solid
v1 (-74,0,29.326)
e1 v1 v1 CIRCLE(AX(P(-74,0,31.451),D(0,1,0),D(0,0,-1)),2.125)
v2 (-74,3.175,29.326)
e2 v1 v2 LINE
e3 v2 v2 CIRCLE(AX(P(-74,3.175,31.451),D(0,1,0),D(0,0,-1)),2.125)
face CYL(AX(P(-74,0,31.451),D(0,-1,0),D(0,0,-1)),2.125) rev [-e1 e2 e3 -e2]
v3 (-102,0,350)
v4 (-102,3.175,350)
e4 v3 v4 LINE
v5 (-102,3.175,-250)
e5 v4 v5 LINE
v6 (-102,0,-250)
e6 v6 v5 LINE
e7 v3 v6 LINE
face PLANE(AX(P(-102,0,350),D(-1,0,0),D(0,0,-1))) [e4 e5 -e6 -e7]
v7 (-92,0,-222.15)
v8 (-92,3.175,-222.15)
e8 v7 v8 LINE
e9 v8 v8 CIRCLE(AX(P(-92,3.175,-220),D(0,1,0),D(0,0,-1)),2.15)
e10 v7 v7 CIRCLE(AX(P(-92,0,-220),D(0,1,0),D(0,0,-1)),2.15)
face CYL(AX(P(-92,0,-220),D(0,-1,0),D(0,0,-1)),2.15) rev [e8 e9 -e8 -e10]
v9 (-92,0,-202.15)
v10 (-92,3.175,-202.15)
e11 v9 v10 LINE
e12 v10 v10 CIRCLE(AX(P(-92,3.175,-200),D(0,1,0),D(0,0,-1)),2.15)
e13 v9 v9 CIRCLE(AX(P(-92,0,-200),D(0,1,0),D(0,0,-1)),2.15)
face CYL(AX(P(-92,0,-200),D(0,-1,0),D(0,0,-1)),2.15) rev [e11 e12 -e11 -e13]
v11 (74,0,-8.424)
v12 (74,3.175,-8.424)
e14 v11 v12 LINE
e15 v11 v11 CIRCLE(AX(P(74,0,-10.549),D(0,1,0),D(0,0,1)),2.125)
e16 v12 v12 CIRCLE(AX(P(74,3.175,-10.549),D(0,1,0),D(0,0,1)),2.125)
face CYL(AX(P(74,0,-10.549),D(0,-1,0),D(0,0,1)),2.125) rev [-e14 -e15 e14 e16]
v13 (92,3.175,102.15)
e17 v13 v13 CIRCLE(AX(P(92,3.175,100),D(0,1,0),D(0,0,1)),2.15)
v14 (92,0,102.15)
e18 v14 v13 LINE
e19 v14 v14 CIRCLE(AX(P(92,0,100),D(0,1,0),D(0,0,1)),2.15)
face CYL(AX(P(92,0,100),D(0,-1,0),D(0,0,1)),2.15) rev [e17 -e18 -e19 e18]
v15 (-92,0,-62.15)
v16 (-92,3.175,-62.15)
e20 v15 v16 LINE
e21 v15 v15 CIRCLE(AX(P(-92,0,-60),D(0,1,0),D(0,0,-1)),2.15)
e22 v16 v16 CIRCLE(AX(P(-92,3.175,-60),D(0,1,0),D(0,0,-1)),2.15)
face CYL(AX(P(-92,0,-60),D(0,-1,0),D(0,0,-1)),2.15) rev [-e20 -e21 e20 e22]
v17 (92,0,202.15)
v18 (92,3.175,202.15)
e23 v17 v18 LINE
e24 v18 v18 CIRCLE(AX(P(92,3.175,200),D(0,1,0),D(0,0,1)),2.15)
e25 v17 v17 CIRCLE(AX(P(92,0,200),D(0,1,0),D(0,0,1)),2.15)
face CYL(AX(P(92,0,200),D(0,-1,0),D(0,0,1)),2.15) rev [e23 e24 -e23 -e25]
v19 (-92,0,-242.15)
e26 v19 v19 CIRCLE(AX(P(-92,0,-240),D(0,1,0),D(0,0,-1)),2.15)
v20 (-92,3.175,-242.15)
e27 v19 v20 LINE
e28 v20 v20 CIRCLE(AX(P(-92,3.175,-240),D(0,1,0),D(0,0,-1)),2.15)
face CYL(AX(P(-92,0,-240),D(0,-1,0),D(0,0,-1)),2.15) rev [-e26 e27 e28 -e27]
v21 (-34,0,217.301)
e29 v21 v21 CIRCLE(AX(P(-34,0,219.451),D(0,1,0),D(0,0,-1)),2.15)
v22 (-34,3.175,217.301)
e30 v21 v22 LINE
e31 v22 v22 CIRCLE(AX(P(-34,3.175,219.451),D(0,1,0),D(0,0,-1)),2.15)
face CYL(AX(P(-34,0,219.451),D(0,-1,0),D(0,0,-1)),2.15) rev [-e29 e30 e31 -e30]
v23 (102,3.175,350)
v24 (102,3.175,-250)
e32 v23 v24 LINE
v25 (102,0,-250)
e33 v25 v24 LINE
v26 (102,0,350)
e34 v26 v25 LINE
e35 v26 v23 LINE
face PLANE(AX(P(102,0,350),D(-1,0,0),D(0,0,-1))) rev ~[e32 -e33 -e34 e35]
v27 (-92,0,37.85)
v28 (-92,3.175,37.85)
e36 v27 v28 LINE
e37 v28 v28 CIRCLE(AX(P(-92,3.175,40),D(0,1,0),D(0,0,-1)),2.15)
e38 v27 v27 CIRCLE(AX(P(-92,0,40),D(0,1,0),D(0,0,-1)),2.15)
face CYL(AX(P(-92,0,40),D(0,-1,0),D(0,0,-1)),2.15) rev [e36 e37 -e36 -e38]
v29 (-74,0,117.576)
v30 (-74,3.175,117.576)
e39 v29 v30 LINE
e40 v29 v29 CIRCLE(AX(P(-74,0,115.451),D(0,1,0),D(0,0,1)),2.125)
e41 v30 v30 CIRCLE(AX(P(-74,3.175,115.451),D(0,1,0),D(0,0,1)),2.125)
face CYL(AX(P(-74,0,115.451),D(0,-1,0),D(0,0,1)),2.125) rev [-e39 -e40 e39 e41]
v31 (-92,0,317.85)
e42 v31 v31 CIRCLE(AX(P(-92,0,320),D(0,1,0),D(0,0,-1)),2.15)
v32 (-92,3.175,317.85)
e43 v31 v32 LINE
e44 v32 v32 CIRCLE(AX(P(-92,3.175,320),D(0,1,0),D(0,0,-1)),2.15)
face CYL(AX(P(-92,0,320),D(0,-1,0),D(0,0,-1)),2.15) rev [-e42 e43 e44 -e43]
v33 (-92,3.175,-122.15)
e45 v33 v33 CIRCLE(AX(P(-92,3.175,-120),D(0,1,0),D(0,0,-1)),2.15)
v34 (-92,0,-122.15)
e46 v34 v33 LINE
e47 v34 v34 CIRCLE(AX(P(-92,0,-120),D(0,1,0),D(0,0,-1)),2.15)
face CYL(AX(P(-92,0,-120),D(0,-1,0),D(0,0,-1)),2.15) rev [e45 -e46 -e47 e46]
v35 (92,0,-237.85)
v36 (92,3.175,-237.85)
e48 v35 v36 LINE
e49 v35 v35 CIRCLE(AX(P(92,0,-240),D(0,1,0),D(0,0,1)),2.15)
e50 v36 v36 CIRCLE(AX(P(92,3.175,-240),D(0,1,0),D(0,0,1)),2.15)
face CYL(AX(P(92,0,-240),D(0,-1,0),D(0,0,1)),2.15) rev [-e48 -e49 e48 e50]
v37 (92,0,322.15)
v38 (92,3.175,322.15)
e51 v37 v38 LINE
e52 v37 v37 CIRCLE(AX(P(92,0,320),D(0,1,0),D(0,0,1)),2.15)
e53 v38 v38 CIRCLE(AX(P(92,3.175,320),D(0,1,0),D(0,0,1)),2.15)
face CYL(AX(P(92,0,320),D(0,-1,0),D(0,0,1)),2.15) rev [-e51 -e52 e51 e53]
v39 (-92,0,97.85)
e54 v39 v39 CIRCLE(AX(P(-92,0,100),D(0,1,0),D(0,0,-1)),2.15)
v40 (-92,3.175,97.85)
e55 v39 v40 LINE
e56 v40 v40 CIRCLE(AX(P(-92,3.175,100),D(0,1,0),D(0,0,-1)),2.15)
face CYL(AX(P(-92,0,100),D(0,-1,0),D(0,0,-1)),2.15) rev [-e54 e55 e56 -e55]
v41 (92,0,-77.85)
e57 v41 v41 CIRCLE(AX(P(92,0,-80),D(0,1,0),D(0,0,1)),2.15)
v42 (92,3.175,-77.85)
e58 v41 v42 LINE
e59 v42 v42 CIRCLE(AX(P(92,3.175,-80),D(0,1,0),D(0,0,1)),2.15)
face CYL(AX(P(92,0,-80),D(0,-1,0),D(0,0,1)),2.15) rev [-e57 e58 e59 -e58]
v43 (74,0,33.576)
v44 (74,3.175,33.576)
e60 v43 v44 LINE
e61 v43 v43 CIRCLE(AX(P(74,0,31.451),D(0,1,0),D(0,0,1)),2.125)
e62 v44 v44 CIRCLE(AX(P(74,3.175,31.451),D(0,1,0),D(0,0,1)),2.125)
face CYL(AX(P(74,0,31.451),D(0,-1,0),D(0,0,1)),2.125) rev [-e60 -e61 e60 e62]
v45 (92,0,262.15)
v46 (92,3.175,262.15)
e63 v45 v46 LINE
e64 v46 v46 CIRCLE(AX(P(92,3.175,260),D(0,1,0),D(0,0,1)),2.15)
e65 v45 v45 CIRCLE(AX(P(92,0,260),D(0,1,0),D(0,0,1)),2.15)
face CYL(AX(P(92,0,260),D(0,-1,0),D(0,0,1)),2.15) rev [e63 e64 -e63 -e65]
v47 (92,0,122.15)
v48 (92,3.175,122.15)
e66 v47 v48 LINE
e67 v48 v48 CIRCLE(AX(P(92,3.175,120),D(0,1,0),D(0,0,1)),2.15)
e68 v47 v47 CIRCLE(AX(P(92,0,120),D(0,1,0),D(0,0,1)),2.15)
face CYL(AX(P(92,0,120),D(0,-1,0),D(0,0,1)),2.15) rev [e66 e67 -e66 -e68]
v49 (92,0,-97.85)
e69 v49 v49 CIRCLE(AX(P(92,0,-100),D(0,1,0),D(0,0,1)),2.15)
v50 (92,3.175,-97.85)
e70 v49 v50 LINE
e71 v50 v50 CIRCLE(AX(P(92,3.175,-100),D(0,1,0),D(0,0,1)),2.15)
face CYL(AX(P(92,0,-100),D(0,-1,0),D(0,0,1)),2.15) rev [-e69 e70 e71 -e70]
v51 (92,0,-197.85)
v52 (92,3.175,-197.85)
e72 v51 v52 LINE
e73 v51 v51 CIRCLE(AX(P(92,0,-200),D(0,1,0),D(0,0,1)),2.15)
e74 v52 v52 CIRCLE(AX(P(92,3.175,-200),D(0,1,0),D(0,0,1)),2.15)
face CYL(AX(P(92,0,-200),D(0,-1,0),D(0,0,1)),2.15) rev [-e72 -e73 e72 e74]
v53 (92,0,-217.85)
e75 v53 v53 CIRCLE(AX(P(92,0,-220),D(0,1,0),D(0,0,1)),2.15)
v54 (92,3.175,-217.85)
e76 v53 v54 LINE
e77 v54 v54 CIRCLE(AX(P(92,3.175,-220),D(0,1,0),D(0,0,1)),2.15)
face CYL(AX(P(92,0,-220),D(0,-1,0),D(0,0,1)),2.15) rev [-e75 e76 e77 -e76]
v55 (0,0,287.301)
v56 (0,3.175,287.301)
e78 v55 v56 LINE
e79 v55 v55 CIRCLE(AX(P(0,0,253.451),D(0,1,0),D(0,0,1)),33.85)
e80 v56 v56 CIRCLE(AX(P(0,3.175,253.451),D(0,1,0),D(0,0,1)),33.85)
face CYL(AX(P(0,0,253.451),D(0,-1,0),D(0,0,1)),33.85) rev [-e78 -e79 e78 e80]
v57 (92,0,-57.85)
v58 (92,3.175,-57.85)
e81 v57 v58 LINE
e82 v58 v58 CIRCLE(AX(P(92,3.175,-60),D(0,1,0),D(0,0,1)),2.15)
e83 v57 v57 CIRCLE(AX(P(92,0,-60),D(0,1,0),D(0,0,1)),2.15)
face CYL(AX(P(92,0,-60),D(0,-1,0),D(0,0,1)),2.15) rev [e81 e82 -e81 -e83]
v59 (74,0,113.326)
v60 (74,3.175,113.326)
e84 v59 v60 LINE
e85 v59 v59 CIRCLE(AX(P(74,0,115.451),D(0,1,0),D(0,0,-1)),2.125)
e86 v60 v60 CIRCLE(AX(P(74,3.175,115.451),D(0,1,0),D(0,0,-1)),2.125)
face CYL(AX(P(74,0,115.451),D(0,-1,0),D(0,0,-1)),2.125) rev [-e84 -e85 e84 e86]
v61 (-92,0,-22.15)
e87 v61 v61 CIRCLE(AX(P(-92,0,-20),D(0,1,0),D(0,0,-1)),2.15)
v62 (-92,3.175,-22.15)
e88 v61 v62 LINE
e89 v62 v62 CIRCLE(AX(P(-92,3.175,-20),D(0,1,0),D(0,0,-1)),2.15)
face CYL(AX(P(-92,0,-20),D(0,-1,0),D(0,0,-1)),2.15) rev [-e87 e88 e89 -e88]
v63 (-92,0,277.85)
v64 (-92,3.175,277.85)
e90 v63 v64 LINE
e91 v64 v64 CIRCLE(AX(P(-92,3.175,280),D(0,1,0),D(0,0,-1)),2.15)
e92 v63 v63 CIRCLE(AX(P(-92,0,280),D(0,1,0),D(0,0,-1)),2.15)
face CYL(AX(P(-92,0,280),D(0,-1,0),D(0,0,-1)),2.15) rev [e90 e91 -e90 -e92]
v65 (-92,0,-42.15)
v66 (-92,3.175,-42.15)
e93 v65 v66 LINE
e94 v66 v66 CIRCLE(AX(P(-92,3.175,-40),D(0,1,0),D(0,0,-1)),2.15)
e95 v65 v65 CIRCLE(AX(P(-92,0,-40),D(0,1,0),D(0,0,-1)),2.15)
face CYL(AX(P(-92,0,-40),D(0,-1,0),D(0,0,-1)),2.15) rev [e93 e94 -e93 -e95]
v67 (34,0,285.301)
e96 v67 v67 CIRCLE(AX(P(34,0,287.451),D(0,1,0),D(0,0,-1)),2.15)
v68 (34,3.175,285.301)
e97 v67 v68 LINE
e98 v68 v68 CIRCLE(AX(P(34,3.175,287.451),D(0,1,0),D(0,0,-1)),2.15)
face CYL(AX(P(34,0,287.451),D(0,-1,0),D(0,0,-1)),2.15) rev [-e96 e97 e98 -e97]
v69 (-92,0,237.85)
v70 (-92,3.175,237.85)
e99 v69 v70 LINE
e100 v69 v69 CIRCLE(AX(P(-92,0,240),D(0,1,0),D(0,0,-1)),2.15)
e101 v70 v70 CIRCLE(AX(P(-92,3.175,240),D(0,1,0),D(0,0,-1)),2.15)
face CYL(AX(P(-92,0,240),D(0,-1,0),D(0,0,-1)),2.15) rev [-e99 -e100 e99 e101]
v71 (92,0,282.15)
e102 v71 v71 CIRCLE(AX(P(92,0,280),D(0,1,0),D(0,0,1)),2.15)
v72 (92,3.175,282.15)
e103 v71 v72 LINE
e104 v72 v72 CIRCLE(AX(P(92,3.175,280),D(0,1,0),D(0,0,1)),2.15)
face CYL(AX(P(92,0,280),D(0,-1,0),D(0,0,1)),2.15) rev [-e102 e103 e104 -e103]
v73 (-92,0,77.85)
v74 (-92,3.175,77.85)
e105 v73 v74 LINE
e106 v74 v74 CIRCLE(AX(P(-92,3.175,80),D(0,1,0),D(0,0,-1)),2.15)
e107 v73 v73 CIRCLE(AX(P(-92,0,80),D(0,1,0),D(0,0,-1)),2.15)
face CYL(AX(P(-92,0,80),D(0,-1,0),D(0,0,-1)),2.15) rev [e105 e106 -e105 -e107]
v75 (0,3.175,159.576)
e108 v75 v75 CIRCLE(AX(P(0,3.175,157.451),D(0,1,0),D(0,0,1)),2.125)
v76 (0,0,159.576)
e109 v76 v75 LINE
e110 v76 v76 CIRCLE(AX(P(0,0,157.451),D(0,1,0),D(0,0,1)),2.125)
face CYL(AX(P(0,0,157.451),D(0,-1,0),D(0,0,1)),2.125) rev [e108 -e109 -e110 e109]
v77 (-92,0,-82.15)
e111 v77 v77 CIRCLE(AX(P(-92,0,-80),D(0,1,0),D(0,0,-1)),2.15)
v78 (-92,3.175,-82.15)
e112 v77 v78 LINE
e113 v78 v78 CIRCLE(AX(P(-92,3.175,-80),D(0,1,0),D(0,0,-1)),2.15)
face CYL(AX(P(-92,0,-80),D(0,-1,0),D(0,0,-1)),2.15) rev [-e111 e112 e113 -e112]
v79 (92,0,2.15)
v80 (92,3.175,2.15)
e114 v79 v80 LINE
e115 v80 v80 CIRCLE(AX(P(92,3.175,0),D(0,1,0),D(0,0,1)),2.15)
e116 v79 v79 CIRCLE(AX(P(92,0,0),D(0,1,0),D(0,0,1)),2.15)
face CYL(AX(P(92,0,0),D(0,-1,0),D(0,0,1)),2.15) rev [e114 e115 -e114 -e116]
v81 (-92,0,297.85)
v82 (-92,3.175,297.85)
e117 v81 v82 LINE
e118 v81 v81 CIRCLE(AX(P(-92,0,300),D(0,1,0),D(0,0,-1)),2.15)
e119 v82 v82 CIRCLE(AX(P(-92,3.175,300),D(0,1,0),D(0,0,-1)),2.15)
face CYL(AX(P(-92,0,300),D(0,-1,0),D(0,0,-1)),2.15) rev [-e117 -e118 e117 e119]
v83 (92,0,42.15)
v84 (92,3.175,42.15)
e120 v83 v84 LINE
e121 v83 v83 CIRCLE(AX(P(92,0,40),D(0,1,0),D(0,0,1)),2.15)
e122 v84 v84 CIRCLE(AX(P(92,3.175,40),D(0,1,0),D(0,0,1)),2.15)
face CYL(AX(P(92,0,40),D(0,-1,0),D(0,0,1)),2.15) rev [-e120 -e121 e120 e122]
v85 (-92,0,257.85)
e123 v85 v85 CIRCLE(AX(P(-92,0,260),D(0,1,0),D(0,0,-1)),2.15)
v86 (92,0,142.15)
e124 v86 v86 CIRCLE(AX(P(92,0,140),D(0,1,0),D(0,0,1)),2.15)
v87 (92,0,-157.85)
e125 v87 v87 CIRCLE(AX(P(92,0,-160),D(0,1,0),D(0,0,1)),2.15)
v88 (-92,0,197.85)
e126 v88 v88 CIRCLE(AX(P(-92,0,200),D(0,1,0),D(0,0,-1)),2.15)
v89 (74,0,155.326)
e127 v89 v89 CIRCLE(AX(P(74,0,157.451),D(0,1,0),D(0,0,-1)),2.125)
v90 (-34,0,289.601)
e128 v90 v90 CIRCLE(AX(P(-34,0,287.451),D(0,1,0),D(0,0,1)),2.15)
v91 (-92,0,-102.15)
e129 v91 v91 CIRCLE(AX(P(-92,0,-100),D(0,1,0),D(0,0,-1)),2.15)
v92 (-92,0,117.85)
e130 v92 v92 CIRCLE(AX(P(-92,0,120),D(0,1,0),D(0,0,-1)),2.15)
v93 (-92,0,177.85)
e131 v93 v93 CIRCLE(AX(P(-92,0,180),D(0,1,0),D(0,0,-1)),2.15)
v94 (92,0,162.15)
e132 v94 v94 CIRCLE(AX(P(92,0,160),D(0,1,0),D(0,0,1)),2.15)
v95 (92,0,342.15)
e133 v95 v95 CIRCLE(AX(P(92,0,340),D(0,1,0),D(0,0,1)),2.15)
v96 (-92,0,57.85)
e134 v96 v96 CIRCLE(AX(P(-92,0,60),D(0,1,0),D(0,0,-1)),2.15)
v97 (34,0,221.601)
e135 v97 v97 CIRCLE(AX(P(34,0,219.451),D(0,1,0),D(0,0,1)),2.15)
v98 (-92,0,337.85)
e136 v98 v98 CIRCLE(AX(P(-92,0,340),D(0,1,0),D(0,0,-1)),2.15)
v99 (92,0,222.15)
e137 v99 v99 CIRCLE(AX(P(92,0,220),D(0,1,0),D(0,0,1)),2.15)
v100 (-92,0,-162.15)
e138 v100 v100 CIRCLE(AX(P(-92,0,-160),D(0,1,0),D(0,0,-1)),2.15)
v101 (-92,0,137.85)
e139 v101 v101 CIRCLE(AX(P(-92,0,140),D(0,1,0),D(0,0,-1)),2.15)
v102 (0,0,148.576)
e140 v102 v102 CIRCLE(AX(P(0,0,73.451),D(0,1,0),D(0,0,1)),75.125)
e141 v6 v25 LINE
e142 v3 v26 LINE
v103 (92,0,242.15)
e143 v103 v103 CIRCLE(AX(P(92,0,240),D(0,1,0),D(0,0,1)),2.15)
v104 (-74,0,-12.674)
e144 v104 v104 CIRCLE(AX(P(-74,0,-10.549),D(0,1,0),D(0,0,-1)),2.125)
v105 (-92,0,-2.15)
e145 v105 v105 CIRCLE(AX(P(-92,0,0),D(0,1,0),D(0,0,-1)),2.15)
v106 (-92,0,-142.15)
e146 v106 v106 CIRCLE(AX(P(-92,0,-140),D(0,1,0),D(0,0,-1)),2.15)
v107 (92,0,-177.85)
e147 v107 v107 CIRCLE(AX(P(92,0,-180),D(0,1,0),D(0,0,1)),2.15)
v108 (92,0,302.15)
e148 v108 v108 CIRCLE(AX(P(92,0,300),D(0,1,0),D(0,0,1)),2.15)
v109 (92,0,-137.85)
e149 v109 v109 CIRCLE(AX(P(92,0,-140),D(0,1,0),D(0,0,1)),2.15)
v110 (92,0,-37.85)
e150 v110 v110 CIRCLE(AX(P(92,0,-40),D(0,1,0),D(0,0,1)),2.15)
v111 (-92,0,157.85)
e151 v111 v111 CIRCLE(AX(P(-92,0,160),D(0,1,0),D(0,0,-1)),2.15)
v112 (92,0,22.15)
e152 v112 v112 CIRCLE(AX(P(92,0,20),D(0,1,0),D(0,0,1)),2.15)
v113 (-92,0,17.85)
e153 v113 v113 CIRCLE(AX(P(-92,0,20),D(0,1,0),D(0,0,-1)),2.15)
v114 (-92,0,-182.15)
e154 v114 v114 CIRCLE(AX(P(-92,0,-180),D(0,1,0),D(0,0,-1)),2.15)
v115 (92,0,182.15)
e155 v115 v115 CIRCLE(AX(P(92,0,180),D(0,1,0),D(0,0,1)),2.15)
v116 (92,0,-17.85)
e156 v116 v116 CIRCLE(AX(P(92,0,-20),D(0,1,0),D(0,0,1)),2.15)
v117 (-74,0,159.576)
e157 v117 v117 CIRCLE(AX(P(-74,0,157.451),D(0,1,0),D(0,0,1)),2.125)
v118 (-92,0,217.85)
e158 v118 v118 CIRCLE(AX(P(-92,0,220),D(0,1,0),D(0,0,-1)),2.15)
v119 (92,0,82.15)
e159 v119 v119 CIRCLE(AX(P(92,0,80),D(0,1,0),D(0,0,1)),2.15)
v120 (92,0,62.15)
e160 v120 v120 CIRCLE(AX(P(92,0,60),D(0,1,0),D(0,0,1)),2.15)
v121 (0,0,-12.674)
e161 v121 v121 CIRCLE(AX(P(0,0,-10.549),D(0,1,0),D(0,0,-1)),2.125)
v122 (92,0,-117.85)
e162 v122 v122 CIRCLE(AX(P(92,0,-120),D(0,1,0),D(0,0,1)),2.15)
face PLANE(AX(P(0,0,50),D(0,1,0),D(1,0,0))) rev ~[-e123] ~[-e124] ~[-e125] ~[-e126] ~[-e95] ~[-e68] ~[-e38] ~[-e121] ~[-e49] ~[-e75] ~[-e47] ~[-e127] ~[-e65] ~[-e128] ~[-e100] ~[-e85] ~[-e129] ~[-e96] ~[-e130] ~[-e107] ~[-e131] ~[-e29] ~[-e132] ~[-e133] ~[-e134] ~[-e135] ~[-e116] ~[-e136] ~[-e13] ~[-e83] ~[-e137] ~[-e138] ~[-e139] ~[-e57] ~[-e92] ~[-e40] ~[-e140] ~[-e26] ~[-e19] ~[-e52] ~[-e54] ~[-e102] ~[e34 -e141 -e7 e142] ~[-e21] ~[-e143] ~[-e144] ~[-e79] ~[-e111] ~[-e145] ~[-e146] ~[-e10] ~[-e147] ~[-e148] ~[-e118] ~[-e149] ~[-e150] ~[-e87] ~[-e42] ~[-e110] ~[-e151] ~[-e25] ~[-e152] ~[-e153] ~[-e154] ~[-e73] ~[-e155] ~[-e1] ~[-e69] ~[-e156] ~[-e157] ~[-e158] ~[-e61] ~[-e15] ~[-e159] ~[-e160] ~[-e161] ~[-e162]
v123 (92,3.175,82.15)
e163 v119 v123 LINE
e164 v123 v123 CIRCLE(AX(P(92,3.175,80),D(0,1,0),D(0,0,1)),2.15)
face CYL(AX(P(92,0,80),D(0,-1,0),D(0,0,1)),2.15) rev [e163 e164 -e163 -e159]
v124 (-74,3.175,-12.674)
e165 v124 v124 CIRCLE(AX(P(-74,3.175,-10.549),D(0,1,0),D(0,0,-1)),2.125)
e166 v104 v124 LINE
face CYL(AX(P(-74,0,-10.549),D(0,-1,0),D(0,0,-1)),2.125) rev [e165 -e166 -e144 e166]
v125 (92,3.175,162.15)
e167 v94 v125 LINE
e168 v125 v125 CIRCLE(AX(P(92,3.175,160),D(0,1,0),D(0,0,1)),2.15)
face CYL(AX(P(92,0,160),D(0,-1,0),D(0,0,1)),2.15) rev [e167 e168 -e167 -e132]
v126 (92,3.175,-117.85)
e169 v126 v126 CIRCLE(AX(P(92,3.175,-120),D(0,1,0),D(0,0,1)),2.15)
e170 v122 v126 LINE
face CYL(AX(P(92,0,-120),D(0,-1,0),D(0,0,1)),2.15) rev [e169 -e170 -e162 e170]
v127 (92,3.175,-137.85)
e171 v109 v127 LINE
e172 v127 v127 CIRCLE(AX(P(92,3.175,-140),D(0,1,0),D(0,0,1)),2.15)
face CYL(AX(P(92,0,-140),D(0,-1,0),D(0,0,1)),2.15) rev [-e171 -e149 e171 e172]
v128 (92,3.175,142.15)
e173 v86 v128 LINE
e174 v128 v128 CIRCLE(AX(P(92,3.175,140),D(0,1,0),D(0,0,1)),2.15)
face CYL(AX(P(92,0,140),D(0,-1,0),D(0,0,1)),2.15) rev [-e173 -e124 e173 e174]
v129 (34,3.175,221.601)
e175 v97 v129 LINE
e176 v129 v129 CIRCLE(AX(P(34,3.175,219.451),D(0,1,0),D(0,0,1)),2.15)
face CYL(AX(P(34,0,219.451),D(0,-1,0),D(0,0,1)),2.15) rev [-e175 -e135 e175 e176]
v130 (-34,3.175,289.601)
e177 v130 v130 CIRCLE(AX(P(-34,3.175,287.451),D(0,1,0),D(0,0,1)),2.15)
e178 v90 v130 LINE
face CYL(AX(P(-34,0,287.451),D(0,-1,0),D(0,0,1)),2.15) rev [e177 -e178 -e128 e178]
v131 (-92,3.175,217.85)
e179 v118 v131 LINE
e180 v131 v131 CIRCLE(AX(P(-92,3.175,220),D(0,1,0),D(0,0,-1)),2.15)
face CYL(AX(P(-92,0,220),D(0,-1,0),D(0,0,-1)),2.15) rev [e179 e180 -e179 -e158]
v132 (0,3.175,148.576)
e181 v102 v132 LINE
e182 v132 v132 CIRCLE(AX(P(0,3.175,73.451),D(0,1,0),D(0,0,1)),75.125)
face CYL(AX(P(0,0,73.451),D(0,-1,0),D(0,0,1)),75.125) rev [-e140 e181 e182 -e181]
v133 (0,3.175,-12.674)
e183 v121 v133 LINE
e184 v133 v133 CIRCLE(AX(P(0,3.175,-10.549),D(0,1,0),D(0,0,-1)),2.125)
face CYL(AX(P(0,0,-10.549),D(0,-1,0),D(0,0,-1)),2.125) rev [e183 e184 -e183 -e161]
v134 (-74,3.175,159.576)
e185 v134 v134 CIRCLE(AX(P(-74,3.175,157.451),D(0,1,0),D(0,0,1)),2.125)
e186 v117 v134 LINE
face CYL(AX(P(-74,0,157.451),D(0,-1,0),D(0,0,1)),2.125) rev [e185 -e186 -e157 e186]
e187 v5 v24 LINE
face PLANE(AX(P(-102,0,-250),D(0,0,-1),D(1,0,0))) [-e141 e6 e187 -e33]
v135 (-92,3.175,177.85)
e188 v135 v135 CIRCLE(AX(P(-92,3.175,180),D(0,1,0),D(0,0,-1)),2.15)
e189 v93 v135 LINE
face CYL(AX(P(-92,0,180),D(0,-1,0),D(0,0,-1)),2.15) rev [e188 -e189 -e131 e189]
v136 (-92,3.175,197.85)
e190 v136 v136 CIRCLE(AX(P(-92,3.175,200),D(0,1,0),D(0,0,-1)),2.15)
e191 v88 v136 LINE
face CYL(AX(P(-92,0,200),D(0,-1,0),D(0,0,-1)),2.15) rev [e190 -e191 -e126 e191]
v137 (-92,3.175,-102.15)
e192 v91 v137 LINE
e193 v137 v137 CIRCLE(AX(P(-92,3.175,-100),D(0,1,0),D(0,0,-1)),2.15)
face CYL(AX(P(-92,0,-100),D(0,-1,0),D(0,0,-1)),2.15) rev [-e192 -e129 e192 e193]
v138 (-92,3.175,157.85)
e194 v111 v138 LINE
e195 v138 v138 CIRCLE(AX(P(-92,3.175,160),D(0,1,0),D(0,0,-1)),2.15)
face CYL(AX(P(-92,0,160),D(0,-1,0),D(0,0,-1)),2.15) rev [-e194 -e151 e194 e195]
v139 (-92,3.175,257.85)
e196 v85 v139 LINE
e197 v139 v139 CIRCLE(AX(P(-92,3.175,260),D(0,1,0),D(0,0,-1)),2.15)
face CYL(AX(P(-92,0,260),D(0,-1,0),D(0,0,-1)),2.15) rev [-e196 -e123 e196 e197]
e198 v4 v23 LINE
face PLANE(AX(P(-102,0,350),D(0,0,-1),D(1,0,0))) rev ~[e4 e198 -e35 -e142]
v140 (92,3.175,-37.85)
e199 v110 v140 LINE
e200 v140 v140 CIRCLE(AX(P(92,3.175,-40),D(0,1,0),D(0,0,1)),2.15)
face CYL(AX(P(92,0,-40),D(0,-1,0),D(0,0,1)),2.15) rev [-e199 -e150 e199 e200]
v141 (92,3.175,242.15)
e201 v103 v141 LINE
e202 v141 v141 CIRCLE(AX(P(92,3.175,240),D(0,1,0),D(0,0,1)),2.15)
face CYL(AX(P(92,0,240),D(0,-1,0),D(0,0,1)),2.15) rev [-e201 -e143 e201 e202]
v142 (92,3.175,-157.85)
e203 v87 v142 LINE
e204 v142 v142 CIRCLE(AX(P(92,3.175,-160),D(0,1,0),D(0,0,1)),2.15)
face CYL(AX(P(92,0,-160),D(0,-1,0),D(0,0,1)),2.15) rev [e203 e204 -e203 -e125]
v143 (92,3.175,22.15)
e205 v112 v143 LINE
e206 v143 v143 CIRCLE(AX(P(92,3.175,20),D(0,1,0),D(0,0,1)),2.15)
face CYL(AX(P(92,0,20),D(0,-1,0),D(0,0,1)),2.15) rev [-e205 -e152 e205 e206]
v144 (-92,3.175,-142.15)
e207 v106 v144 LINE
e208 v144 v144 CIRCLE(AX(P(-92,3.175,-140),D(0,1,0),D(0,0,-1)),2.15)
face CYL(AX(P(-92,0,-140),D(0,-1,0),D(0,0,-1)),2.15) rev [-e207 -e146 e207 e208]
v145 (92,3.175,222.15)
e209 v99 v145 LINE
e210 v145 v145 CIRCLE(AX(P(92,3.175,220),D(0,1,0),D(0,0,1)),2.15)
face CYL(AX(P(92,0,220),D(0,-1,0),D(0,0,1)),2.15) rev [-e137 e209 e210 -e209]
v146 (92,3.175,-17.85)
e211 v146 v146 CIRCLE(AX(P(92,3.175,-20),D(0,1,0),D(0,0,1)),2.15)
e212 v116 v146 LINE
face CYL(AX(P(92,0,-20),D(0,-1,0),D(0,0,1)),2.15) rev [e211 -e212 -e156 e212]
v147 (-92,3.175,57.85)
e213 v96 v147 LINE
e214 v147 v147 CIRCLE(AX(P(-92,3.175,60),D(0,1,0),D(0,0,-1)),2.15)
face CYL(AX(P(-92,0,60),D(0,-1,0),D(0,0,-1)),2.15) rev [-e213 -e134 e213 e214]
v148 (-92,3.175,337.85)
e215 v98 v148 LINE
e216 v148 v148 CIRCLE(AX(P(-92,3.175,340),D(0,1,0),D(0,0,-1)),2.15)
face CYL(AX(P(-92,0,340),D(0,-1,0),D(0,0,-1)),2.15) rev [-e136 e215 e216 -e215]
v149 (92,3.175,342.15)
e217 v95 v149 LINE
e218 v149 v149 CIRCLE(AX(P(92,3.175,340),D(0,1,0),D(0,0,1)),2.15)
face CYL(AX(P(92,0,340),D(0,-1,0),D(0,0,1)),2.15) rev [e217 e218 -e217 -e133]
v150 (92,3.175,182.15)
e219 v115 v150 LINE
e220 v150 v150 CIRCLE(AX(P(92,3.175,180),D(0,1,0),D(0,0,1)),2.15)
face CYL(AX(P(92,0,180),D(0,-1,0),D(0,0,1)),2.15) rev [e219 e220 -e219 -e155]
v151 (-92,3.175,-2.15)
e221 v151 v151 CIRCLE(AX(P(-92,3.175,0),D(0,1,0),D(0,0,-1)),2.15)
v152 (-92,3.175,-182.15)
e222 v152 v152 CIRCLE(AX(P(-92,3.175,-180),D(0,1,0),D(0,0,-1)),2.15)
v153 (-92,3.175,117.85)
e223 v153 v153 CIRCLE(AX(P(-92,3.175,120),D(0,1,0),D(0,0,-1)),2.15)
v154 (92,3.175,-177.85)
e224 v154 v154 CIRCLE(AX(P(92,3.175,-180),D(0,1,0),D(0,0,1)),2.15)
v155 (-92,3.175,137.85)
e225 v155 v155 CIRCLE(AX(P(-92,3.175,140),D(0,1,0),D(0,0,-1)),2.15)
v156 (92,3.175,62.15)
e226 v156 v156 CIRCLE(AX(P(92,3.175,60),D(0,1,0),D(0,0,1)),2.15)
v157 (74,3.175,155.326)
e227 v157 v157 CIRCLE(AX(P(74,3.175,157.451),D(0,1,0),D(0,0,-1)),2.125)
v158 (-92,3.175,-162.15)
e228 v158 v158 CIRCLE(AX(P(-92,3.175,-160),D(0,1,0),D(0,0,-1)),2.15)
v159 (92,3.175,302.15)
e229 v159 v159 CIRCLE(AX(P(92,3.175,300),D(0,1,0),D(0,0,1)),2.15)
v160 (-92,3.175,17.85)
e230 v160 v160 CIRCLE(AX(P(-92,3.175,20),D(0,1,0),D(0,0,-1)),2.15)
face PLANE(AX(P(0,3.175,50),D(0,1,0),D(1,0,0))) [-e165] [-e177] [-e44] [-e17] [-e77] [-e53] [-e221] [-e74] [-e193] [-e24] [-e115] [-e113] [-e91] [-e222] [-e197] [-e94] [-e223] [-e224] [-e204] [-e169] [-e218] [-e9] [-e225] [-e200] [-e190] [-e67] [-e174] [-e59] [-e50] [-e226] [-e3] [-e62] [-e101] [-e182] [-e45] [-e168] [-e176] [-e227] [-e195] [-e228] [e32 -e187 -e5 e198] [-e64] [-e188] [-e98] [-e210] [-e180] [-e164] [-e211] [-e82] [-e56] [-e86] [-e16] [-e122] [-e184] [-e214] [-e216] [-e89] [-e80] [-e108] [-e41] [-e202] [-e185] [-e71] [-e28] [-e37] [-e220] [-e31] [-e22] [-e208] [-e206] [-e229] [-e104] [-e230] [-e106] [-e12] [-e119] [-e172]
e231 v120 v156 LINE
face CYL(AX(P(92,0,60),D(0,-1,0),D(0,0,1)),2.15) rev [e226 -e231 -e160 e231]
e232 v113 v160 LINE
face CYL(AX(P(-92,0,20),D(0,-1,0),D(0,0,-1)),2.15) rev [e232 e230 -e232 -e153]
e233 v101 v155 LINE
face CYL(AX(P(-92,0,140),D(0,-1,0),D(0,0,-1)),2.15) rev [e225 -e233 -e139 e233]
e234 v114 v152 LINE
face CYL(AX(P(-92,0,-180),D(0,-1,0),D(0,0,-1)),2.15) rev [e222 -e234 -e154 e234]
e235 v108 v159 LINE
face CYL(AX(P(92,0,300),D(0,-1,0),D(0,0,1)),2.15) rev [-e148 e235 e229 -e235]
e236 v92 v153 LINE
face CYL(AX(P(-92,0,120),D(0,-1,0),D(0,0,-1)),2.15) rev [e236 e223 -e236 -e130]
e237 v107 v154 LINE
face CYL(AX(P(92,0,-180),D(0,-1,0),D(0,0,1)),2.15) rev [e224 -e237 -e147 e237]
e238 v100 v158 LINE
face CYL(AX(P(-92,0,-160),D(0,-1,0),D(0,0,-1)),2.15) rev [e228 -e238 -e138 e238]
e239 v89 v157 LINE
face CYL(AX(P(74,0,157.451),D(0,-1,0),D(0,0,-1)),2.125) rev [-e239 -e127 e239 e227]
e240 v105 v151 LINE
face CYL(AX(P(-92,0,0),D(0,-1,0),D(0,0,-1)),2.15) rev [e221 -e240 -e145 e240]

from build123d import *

# Parameters (mm, degrees)
SKETCH1_W           = 204
SKETCH1_H           = 600
SKETCH1_R           = 2.15
SKETCH1_R_2         = 2.125
SKETCH1_R_3         = 33.85
SKETCH1_R_4         = 75.125
BOSS_EXTRUDE1_DEPTH = 3.175


with BuildPart() as part:
    # Sketch1 → Boss-Extrude1 (new body)
    with BuildSketch(Plane(origin=(0, 0, 0), x_dir=(1, 0, 0), z_dir=(0, 1, 0))):
        with Locations((0, -50)):
            Rectangle(SKETCH1_W, SKETCH1_H)
        with Locations(Location((92, 240, 0), (0, 0, 270))):
            Circle(SKETCH1_R, mode=Mode.SUBTRACT)
        with Locations(Location((92, 220, 0), (0, 0, 270))):
            Circle(SKETCH1_R, mode=Mode.SUBTRACT)
        with Locations(Location((92, 200, 0), (0, 0, 270))):
            Circle(SKETCH1_R, mode=Mode.SUBTRACT)
        with Locations(Location((92, 180, 0), (0, 0, 270))):
            Circle(SKETCH1_R, mode=Mode.SUBTRACT)
        with Locations(Location((92, 160, 0), (0, 0, 270))):
            Circle(SKETCH1_R, mode=Mode.SUBTRACT)
        with Locations(Location((92, 140, 0), (0, 0, 270))):
            Circle(SKETCH1_R, mode=Mode.SUBTRACT)
        with Locations(Location((92, 120, 0), (0, 0, 270))):
            Circle(SKETCH1_R, mode=Mode.SUBTRACT)
        with Locations(Location((92, 100, 0), (0, 0, 270))):
            Circle(SKETCH1_R, mode=Mode.SUBTRACT)
        with Locations(Location((92, 80, 0), (0, 0, 270))):
            Circle(SKETCH1_R, mode=Mode.SUBTRACT)
        with Locations(Location((92, 60, 0), (0, 0, 270))):
            Circle(SKETCH1_R, mode=Mode.SUBTRACT)
        with Locations(Location((92, 40, 0), (0, 0, 270))):
            Circle(SKETCH1_R, mode=Mode.SUBTRACT)
        with Locations(Location((92, 20, 0), (0, 0, 270))):
            Circle(SKETCH1_R, mode=Mode.SUBTRACT)
        with Locations(Location((92, 0, 0), (0, 0, 270))):
            Circle(SKETCH1_R, mode=Mode.SUBTRACT)
        with Locations(Location((92, -20, 0), (0, 0, 270))):
            Circle(SKETCH1_R, mode=Mode.SUBTRACT)
        with Locations(Location((92, -40, 0), (0, 0, 270))):
            Circle(SKETCH1_R, mode=Mode.SUBTRACT)
        with Locations(Location((92, -60, 0), (0, 0, 270))):
            Circle(SKETCH1_R, mode=Mode.SUBTRACT)
        with Locations(Location((92, -80, 0), (0, 0, 270))):
            Circle(SKETCH1_R, mode=Mode.SUBTRACT)
        with Locations(Location((92, -100, 0), (0, 0, 270))):
            Circle(SKETCH1_R, mode=Mode.SUBTRACT)
        with Locations(Location((92, -120, 0), (0, 0, 270))):
            Circle(SKETCH1_R, mode=Mode.SUBTRACT)
        with Locations(Location((92, -140, 0), (0, 0, 270))):
            Circle(SKETCH1_R, mode=Mode.SUBTRACT)
        with Locations(Location((92, -160, 0), (0, 0, 270))):
            Circle(SKETCH1_R, mode=Mode.SUBTRACT)
        with Locations(Location((92, -180, 0), (0, 0, 270))):
            Circle(SKETCH1_R, mode=Mode.SUBTRACT)
        with Locations(Location((92, -200, 0), (0, 0, 270))):
            Circle(SKETCH1_R, mode=Mode.SUBTRACT)
        with Locations(Location((92, -220, 0), (0, 0, 270))):
            Circle(SKETCH1_R, mode=Mode.SUBTRACT)
        with Locations(Location((92, -240, 0), (0, 0, 270))):
            Circle(SKETCH1_R, mode=Mode.SUBTRACT)
        with Locations(Location((92, -260, 0), (0, 0, 270))):
            Circle(SKETCH1_R, mode=Mode.SUBTRACT)
        with Locations(Location((92, -280, 0), (0, 0, 270))):
            Circle(SKETCH1_R, mode=Mode.SUBTRACT)
        with Locations(Location((92, -300, 0), (0, 0, 270))):
            Circle(SKETCH1_R, mode=Mode.SUBTRACT)
        with Locations(Location((92, -320, 0), (0, 0, 270))):
            Circle(SKETCH1_R, mode=Mode.SUBTRACT)
        with Locations(Location((92, -340, 0), (0, 0, 270))):
            Circle(SKETCH1_R, mode=Mode.SUBTRACT)
        with Locations(Location((-92, -340, 0), (0, 0, 90))):
            Circle(SKETCH1_R, mode=Mode.SUBTRACT)
        with Locations(Location((-92, -320, 0), (0, 0, 90))):
            Circle(SKETCH1_R, mode=Mode.SUBTRACT)
        with Locations(Location((-92, -300, 0), (0, 0, 90))):
            Circle(SKETCH1_R, mode=Mode.SUBTRACT)
        with Locations(Location((-92, -280, 0), (0, 0, 90))):
            Circle(SKETCH1_R, mode=Mode.SUBTRACT)
        with Locations(Location((-92, -260, 0), (0, 0, 90))):
            Circle(SKETCH1_R, mode=Mode.SUBTRACT)
        with Locations(Location((-92, -240, 0), (0, 0, 90))):
            Circle(SKETCH1_R, mode=Mode.SUBTRACT)
        with Locations(Location((-92, -220, 0), (0, 0, 90))):
            Circle(SKETCH1_R, mode=Mode.SUBTRACT)
        with Locations(Location((-92, -200, 0), (0, 0, 90))):
            Circle(SKETCH1_R, mode=Mode.SUBTRACT)
        with Locations(Location((-92, -180, 0), (0, 0, 90))):
            Circle(SKETCH1_R, mode=Mode.SUBTRACT)
        with Locations(Location((-92, -160, 0), (0, 0, 90))):
            Circle(SKETCH1_R, mode=Mode.SUBTRACT)
        with Locations(Location((-92, -140, 0), (0, 0, 90))):
            Circle(SKETCH1_R, mode=Mode.SUBTRACT)
        with Locations(Location((-92, -120, 0), (0, 0, 90))):
            Circle(SKETCH1_R, mode=Mode.SUBTRACT)
        with Locations(Location((-92, -100, 0), (0, 0, 90))):
            Circle(SKETCH1_R, mode=Mode.SUBTRACT)
        with Locations(Location((-92, -80, 0), (0, 0, 90))):
            Circle(SKETCH1_R, mode=Mode.SUBTRACT)
        with Locations(Location((-92, -60, 0), (0, 0, 90))):
            Circle(SKETCH1_R, mode=Mode.SUBTRACT)
        with Locations(Location((-92, -40, 0), (0, 0, 90))):
            Circle(SKETCH1_R, mode=Mode.SUBTRACT)
        with Locations(Location((-92, -20, 0), (0, 0, 90))):
            Circle(SKETCH1_R, mode=Mode.SUBTRACT)
        with Locations(Location((-92, 0, 0), (0, 0, 90))):
            Circle(SKETCH1_R, mode=Mode.SUBTRACT)
        with Locations(Location((-92, 20, 0), (0, 0, 90))):
            Circle(SKETCH1_R, mode=Mode.SUBTRACT)
        with Locations(Location((-92, 40, 0), (0, 0, 90))):
            Circle(SKETCH1_R, mode=Mode.SUBTRACT)
        with Locations(Location((-92, 60, 0), (0, 0, 90))):
            Circle(SKETCH1_R, mode=Mode.SUBTRACT)
        with Locations(Location((-92, 80, 0), (0, 0, 90))):
            Circle(SKETCH1_R, mode=Mode.SUBTRACT)
        with Locations(Location((-92, 100, 0), (0, 0, 90))):
            Circle(SKETCH1_R, mode=Mode.SUBTRACT)
        with Locations(Location((-92, 120, 0), (0, 0, 90))):
            Circle(SKETCH1_R, mode=Mode.SUBTRACT)
        with Locations(Location((-92, 140, 0), (0, 0, 90))):
            Circle(SKETCH1_R, mode=Mode.SUBTRACT)
        with Locations(Location((-92, 160, 0), (0, 0, 90))):
            Circle(SKETCH1_R, mode=Mode.SUBTRACT)
        with Locations(Location((-92, 180, 0), (0, 0, 90))):
            Circle(SKETCH1_R, mode=Mode.SUBTRACT)
        with Locations(Location((-92, 200, 0), (0, 0, 90))):
            Circle(SKETCH1_R, mode=Mode.SUBTRACT)
        with Locations(Location((-92, 220, 0), (0, 0, 90))):
            Circle(SKETCH1_R, mode=Mode.SUBTRACT)
        with Locations(Location((-92, 240, 0), (0, 0, 90))):
            Circle(SKETCH1_R, mode=Mode.SUBTRACT)
        with Locations(Location((-74, -157.451, 0), (0, 0, 270))):
            Circle(SKETCH1_R_2, mode=Mode.SUBTRACT)
        with Locations(Location((-74, -115.451, 0), (0, 0, 270))):
            Circle(SKETCH1_R_2, mode=Mode.SUBTRACT)
        with Locations(Location((0, -157.451, 0), (0, 0, 270))):
            Circle(SKETCH1_R_2, mode=Mode.SUBTRACT)
        with Locations(Location((74, -157.451, 0), (0, 0, 90))):
            Circle(SKETCH1_R_2, mode=Mode.SUBTRACT)
        with Locations(Location((74, -115.451, 0), (0, 0, 90))):
            Circle(SKETCH1_R_2, mode=Mode.SUBTRACT)
        with Locations(Location((74, -31.451, 0), (0, 0, 270))):
            Circle(SKETCH1_R_2, mode=Mode.SUBTRACT)
        with Locations(Location((74, 10.549, 0), (0, 0, 270))):
            Circle(SKETCH1_R_2, mode=Mode.SUBTRACT)
        with Locations(Location((0, 10.549, 0), (0, 0, 90))):
            Circle(SKETCH1_R_2, mode=Mode.SUBTRACT)
        with Locations(Location((-74, 10.549, 0), (0, 0, 90))):
            Circle(SKETCH1_R_2, mode=Mode.SUBTRACT)
        with Locations(Location((-74, -31.451, 0), (0, 0, 90))):
            Circle(SKETCH1_R_2, mode=Mode.SUBTRACT)
        with Locations(Location((0, -253.451, 0), (0, 0, 270))):
            Circle(SKETCH1_R_3, mode=Mode.SUBTRACT)
        with Locations(Location((0, -73.451, 0), (0, 0, 270))):
            Circle(SKETCH1_R_4, mode=Mode.SUBTRACT)
        with Locations(Location((-34, -287.451, 0), (0, 0, 270))):
            Circle(SKETCH1_R, mode=Mode.SUBTRACT)
        with Locations(Location((34, -287.451, 0), (0, 0, 90))):
            Circle(SKETCH1_R, mode=Mode.SUBTRACT)
        with Locations(Location((34, -219.451, 0), (0, 0, 270))):
            Circle(SKETCH1_R, mode=Mode.SUBTRACT)
        with Locations(Location((-34, -219.451, 0), (0, 0, 90))):
            Circle(SKETCH1_R, mode=Mode.SUBTRACT)
    extrude(amount=BOSS_EXTRUDE1_DEPTH)


solid = part.part
